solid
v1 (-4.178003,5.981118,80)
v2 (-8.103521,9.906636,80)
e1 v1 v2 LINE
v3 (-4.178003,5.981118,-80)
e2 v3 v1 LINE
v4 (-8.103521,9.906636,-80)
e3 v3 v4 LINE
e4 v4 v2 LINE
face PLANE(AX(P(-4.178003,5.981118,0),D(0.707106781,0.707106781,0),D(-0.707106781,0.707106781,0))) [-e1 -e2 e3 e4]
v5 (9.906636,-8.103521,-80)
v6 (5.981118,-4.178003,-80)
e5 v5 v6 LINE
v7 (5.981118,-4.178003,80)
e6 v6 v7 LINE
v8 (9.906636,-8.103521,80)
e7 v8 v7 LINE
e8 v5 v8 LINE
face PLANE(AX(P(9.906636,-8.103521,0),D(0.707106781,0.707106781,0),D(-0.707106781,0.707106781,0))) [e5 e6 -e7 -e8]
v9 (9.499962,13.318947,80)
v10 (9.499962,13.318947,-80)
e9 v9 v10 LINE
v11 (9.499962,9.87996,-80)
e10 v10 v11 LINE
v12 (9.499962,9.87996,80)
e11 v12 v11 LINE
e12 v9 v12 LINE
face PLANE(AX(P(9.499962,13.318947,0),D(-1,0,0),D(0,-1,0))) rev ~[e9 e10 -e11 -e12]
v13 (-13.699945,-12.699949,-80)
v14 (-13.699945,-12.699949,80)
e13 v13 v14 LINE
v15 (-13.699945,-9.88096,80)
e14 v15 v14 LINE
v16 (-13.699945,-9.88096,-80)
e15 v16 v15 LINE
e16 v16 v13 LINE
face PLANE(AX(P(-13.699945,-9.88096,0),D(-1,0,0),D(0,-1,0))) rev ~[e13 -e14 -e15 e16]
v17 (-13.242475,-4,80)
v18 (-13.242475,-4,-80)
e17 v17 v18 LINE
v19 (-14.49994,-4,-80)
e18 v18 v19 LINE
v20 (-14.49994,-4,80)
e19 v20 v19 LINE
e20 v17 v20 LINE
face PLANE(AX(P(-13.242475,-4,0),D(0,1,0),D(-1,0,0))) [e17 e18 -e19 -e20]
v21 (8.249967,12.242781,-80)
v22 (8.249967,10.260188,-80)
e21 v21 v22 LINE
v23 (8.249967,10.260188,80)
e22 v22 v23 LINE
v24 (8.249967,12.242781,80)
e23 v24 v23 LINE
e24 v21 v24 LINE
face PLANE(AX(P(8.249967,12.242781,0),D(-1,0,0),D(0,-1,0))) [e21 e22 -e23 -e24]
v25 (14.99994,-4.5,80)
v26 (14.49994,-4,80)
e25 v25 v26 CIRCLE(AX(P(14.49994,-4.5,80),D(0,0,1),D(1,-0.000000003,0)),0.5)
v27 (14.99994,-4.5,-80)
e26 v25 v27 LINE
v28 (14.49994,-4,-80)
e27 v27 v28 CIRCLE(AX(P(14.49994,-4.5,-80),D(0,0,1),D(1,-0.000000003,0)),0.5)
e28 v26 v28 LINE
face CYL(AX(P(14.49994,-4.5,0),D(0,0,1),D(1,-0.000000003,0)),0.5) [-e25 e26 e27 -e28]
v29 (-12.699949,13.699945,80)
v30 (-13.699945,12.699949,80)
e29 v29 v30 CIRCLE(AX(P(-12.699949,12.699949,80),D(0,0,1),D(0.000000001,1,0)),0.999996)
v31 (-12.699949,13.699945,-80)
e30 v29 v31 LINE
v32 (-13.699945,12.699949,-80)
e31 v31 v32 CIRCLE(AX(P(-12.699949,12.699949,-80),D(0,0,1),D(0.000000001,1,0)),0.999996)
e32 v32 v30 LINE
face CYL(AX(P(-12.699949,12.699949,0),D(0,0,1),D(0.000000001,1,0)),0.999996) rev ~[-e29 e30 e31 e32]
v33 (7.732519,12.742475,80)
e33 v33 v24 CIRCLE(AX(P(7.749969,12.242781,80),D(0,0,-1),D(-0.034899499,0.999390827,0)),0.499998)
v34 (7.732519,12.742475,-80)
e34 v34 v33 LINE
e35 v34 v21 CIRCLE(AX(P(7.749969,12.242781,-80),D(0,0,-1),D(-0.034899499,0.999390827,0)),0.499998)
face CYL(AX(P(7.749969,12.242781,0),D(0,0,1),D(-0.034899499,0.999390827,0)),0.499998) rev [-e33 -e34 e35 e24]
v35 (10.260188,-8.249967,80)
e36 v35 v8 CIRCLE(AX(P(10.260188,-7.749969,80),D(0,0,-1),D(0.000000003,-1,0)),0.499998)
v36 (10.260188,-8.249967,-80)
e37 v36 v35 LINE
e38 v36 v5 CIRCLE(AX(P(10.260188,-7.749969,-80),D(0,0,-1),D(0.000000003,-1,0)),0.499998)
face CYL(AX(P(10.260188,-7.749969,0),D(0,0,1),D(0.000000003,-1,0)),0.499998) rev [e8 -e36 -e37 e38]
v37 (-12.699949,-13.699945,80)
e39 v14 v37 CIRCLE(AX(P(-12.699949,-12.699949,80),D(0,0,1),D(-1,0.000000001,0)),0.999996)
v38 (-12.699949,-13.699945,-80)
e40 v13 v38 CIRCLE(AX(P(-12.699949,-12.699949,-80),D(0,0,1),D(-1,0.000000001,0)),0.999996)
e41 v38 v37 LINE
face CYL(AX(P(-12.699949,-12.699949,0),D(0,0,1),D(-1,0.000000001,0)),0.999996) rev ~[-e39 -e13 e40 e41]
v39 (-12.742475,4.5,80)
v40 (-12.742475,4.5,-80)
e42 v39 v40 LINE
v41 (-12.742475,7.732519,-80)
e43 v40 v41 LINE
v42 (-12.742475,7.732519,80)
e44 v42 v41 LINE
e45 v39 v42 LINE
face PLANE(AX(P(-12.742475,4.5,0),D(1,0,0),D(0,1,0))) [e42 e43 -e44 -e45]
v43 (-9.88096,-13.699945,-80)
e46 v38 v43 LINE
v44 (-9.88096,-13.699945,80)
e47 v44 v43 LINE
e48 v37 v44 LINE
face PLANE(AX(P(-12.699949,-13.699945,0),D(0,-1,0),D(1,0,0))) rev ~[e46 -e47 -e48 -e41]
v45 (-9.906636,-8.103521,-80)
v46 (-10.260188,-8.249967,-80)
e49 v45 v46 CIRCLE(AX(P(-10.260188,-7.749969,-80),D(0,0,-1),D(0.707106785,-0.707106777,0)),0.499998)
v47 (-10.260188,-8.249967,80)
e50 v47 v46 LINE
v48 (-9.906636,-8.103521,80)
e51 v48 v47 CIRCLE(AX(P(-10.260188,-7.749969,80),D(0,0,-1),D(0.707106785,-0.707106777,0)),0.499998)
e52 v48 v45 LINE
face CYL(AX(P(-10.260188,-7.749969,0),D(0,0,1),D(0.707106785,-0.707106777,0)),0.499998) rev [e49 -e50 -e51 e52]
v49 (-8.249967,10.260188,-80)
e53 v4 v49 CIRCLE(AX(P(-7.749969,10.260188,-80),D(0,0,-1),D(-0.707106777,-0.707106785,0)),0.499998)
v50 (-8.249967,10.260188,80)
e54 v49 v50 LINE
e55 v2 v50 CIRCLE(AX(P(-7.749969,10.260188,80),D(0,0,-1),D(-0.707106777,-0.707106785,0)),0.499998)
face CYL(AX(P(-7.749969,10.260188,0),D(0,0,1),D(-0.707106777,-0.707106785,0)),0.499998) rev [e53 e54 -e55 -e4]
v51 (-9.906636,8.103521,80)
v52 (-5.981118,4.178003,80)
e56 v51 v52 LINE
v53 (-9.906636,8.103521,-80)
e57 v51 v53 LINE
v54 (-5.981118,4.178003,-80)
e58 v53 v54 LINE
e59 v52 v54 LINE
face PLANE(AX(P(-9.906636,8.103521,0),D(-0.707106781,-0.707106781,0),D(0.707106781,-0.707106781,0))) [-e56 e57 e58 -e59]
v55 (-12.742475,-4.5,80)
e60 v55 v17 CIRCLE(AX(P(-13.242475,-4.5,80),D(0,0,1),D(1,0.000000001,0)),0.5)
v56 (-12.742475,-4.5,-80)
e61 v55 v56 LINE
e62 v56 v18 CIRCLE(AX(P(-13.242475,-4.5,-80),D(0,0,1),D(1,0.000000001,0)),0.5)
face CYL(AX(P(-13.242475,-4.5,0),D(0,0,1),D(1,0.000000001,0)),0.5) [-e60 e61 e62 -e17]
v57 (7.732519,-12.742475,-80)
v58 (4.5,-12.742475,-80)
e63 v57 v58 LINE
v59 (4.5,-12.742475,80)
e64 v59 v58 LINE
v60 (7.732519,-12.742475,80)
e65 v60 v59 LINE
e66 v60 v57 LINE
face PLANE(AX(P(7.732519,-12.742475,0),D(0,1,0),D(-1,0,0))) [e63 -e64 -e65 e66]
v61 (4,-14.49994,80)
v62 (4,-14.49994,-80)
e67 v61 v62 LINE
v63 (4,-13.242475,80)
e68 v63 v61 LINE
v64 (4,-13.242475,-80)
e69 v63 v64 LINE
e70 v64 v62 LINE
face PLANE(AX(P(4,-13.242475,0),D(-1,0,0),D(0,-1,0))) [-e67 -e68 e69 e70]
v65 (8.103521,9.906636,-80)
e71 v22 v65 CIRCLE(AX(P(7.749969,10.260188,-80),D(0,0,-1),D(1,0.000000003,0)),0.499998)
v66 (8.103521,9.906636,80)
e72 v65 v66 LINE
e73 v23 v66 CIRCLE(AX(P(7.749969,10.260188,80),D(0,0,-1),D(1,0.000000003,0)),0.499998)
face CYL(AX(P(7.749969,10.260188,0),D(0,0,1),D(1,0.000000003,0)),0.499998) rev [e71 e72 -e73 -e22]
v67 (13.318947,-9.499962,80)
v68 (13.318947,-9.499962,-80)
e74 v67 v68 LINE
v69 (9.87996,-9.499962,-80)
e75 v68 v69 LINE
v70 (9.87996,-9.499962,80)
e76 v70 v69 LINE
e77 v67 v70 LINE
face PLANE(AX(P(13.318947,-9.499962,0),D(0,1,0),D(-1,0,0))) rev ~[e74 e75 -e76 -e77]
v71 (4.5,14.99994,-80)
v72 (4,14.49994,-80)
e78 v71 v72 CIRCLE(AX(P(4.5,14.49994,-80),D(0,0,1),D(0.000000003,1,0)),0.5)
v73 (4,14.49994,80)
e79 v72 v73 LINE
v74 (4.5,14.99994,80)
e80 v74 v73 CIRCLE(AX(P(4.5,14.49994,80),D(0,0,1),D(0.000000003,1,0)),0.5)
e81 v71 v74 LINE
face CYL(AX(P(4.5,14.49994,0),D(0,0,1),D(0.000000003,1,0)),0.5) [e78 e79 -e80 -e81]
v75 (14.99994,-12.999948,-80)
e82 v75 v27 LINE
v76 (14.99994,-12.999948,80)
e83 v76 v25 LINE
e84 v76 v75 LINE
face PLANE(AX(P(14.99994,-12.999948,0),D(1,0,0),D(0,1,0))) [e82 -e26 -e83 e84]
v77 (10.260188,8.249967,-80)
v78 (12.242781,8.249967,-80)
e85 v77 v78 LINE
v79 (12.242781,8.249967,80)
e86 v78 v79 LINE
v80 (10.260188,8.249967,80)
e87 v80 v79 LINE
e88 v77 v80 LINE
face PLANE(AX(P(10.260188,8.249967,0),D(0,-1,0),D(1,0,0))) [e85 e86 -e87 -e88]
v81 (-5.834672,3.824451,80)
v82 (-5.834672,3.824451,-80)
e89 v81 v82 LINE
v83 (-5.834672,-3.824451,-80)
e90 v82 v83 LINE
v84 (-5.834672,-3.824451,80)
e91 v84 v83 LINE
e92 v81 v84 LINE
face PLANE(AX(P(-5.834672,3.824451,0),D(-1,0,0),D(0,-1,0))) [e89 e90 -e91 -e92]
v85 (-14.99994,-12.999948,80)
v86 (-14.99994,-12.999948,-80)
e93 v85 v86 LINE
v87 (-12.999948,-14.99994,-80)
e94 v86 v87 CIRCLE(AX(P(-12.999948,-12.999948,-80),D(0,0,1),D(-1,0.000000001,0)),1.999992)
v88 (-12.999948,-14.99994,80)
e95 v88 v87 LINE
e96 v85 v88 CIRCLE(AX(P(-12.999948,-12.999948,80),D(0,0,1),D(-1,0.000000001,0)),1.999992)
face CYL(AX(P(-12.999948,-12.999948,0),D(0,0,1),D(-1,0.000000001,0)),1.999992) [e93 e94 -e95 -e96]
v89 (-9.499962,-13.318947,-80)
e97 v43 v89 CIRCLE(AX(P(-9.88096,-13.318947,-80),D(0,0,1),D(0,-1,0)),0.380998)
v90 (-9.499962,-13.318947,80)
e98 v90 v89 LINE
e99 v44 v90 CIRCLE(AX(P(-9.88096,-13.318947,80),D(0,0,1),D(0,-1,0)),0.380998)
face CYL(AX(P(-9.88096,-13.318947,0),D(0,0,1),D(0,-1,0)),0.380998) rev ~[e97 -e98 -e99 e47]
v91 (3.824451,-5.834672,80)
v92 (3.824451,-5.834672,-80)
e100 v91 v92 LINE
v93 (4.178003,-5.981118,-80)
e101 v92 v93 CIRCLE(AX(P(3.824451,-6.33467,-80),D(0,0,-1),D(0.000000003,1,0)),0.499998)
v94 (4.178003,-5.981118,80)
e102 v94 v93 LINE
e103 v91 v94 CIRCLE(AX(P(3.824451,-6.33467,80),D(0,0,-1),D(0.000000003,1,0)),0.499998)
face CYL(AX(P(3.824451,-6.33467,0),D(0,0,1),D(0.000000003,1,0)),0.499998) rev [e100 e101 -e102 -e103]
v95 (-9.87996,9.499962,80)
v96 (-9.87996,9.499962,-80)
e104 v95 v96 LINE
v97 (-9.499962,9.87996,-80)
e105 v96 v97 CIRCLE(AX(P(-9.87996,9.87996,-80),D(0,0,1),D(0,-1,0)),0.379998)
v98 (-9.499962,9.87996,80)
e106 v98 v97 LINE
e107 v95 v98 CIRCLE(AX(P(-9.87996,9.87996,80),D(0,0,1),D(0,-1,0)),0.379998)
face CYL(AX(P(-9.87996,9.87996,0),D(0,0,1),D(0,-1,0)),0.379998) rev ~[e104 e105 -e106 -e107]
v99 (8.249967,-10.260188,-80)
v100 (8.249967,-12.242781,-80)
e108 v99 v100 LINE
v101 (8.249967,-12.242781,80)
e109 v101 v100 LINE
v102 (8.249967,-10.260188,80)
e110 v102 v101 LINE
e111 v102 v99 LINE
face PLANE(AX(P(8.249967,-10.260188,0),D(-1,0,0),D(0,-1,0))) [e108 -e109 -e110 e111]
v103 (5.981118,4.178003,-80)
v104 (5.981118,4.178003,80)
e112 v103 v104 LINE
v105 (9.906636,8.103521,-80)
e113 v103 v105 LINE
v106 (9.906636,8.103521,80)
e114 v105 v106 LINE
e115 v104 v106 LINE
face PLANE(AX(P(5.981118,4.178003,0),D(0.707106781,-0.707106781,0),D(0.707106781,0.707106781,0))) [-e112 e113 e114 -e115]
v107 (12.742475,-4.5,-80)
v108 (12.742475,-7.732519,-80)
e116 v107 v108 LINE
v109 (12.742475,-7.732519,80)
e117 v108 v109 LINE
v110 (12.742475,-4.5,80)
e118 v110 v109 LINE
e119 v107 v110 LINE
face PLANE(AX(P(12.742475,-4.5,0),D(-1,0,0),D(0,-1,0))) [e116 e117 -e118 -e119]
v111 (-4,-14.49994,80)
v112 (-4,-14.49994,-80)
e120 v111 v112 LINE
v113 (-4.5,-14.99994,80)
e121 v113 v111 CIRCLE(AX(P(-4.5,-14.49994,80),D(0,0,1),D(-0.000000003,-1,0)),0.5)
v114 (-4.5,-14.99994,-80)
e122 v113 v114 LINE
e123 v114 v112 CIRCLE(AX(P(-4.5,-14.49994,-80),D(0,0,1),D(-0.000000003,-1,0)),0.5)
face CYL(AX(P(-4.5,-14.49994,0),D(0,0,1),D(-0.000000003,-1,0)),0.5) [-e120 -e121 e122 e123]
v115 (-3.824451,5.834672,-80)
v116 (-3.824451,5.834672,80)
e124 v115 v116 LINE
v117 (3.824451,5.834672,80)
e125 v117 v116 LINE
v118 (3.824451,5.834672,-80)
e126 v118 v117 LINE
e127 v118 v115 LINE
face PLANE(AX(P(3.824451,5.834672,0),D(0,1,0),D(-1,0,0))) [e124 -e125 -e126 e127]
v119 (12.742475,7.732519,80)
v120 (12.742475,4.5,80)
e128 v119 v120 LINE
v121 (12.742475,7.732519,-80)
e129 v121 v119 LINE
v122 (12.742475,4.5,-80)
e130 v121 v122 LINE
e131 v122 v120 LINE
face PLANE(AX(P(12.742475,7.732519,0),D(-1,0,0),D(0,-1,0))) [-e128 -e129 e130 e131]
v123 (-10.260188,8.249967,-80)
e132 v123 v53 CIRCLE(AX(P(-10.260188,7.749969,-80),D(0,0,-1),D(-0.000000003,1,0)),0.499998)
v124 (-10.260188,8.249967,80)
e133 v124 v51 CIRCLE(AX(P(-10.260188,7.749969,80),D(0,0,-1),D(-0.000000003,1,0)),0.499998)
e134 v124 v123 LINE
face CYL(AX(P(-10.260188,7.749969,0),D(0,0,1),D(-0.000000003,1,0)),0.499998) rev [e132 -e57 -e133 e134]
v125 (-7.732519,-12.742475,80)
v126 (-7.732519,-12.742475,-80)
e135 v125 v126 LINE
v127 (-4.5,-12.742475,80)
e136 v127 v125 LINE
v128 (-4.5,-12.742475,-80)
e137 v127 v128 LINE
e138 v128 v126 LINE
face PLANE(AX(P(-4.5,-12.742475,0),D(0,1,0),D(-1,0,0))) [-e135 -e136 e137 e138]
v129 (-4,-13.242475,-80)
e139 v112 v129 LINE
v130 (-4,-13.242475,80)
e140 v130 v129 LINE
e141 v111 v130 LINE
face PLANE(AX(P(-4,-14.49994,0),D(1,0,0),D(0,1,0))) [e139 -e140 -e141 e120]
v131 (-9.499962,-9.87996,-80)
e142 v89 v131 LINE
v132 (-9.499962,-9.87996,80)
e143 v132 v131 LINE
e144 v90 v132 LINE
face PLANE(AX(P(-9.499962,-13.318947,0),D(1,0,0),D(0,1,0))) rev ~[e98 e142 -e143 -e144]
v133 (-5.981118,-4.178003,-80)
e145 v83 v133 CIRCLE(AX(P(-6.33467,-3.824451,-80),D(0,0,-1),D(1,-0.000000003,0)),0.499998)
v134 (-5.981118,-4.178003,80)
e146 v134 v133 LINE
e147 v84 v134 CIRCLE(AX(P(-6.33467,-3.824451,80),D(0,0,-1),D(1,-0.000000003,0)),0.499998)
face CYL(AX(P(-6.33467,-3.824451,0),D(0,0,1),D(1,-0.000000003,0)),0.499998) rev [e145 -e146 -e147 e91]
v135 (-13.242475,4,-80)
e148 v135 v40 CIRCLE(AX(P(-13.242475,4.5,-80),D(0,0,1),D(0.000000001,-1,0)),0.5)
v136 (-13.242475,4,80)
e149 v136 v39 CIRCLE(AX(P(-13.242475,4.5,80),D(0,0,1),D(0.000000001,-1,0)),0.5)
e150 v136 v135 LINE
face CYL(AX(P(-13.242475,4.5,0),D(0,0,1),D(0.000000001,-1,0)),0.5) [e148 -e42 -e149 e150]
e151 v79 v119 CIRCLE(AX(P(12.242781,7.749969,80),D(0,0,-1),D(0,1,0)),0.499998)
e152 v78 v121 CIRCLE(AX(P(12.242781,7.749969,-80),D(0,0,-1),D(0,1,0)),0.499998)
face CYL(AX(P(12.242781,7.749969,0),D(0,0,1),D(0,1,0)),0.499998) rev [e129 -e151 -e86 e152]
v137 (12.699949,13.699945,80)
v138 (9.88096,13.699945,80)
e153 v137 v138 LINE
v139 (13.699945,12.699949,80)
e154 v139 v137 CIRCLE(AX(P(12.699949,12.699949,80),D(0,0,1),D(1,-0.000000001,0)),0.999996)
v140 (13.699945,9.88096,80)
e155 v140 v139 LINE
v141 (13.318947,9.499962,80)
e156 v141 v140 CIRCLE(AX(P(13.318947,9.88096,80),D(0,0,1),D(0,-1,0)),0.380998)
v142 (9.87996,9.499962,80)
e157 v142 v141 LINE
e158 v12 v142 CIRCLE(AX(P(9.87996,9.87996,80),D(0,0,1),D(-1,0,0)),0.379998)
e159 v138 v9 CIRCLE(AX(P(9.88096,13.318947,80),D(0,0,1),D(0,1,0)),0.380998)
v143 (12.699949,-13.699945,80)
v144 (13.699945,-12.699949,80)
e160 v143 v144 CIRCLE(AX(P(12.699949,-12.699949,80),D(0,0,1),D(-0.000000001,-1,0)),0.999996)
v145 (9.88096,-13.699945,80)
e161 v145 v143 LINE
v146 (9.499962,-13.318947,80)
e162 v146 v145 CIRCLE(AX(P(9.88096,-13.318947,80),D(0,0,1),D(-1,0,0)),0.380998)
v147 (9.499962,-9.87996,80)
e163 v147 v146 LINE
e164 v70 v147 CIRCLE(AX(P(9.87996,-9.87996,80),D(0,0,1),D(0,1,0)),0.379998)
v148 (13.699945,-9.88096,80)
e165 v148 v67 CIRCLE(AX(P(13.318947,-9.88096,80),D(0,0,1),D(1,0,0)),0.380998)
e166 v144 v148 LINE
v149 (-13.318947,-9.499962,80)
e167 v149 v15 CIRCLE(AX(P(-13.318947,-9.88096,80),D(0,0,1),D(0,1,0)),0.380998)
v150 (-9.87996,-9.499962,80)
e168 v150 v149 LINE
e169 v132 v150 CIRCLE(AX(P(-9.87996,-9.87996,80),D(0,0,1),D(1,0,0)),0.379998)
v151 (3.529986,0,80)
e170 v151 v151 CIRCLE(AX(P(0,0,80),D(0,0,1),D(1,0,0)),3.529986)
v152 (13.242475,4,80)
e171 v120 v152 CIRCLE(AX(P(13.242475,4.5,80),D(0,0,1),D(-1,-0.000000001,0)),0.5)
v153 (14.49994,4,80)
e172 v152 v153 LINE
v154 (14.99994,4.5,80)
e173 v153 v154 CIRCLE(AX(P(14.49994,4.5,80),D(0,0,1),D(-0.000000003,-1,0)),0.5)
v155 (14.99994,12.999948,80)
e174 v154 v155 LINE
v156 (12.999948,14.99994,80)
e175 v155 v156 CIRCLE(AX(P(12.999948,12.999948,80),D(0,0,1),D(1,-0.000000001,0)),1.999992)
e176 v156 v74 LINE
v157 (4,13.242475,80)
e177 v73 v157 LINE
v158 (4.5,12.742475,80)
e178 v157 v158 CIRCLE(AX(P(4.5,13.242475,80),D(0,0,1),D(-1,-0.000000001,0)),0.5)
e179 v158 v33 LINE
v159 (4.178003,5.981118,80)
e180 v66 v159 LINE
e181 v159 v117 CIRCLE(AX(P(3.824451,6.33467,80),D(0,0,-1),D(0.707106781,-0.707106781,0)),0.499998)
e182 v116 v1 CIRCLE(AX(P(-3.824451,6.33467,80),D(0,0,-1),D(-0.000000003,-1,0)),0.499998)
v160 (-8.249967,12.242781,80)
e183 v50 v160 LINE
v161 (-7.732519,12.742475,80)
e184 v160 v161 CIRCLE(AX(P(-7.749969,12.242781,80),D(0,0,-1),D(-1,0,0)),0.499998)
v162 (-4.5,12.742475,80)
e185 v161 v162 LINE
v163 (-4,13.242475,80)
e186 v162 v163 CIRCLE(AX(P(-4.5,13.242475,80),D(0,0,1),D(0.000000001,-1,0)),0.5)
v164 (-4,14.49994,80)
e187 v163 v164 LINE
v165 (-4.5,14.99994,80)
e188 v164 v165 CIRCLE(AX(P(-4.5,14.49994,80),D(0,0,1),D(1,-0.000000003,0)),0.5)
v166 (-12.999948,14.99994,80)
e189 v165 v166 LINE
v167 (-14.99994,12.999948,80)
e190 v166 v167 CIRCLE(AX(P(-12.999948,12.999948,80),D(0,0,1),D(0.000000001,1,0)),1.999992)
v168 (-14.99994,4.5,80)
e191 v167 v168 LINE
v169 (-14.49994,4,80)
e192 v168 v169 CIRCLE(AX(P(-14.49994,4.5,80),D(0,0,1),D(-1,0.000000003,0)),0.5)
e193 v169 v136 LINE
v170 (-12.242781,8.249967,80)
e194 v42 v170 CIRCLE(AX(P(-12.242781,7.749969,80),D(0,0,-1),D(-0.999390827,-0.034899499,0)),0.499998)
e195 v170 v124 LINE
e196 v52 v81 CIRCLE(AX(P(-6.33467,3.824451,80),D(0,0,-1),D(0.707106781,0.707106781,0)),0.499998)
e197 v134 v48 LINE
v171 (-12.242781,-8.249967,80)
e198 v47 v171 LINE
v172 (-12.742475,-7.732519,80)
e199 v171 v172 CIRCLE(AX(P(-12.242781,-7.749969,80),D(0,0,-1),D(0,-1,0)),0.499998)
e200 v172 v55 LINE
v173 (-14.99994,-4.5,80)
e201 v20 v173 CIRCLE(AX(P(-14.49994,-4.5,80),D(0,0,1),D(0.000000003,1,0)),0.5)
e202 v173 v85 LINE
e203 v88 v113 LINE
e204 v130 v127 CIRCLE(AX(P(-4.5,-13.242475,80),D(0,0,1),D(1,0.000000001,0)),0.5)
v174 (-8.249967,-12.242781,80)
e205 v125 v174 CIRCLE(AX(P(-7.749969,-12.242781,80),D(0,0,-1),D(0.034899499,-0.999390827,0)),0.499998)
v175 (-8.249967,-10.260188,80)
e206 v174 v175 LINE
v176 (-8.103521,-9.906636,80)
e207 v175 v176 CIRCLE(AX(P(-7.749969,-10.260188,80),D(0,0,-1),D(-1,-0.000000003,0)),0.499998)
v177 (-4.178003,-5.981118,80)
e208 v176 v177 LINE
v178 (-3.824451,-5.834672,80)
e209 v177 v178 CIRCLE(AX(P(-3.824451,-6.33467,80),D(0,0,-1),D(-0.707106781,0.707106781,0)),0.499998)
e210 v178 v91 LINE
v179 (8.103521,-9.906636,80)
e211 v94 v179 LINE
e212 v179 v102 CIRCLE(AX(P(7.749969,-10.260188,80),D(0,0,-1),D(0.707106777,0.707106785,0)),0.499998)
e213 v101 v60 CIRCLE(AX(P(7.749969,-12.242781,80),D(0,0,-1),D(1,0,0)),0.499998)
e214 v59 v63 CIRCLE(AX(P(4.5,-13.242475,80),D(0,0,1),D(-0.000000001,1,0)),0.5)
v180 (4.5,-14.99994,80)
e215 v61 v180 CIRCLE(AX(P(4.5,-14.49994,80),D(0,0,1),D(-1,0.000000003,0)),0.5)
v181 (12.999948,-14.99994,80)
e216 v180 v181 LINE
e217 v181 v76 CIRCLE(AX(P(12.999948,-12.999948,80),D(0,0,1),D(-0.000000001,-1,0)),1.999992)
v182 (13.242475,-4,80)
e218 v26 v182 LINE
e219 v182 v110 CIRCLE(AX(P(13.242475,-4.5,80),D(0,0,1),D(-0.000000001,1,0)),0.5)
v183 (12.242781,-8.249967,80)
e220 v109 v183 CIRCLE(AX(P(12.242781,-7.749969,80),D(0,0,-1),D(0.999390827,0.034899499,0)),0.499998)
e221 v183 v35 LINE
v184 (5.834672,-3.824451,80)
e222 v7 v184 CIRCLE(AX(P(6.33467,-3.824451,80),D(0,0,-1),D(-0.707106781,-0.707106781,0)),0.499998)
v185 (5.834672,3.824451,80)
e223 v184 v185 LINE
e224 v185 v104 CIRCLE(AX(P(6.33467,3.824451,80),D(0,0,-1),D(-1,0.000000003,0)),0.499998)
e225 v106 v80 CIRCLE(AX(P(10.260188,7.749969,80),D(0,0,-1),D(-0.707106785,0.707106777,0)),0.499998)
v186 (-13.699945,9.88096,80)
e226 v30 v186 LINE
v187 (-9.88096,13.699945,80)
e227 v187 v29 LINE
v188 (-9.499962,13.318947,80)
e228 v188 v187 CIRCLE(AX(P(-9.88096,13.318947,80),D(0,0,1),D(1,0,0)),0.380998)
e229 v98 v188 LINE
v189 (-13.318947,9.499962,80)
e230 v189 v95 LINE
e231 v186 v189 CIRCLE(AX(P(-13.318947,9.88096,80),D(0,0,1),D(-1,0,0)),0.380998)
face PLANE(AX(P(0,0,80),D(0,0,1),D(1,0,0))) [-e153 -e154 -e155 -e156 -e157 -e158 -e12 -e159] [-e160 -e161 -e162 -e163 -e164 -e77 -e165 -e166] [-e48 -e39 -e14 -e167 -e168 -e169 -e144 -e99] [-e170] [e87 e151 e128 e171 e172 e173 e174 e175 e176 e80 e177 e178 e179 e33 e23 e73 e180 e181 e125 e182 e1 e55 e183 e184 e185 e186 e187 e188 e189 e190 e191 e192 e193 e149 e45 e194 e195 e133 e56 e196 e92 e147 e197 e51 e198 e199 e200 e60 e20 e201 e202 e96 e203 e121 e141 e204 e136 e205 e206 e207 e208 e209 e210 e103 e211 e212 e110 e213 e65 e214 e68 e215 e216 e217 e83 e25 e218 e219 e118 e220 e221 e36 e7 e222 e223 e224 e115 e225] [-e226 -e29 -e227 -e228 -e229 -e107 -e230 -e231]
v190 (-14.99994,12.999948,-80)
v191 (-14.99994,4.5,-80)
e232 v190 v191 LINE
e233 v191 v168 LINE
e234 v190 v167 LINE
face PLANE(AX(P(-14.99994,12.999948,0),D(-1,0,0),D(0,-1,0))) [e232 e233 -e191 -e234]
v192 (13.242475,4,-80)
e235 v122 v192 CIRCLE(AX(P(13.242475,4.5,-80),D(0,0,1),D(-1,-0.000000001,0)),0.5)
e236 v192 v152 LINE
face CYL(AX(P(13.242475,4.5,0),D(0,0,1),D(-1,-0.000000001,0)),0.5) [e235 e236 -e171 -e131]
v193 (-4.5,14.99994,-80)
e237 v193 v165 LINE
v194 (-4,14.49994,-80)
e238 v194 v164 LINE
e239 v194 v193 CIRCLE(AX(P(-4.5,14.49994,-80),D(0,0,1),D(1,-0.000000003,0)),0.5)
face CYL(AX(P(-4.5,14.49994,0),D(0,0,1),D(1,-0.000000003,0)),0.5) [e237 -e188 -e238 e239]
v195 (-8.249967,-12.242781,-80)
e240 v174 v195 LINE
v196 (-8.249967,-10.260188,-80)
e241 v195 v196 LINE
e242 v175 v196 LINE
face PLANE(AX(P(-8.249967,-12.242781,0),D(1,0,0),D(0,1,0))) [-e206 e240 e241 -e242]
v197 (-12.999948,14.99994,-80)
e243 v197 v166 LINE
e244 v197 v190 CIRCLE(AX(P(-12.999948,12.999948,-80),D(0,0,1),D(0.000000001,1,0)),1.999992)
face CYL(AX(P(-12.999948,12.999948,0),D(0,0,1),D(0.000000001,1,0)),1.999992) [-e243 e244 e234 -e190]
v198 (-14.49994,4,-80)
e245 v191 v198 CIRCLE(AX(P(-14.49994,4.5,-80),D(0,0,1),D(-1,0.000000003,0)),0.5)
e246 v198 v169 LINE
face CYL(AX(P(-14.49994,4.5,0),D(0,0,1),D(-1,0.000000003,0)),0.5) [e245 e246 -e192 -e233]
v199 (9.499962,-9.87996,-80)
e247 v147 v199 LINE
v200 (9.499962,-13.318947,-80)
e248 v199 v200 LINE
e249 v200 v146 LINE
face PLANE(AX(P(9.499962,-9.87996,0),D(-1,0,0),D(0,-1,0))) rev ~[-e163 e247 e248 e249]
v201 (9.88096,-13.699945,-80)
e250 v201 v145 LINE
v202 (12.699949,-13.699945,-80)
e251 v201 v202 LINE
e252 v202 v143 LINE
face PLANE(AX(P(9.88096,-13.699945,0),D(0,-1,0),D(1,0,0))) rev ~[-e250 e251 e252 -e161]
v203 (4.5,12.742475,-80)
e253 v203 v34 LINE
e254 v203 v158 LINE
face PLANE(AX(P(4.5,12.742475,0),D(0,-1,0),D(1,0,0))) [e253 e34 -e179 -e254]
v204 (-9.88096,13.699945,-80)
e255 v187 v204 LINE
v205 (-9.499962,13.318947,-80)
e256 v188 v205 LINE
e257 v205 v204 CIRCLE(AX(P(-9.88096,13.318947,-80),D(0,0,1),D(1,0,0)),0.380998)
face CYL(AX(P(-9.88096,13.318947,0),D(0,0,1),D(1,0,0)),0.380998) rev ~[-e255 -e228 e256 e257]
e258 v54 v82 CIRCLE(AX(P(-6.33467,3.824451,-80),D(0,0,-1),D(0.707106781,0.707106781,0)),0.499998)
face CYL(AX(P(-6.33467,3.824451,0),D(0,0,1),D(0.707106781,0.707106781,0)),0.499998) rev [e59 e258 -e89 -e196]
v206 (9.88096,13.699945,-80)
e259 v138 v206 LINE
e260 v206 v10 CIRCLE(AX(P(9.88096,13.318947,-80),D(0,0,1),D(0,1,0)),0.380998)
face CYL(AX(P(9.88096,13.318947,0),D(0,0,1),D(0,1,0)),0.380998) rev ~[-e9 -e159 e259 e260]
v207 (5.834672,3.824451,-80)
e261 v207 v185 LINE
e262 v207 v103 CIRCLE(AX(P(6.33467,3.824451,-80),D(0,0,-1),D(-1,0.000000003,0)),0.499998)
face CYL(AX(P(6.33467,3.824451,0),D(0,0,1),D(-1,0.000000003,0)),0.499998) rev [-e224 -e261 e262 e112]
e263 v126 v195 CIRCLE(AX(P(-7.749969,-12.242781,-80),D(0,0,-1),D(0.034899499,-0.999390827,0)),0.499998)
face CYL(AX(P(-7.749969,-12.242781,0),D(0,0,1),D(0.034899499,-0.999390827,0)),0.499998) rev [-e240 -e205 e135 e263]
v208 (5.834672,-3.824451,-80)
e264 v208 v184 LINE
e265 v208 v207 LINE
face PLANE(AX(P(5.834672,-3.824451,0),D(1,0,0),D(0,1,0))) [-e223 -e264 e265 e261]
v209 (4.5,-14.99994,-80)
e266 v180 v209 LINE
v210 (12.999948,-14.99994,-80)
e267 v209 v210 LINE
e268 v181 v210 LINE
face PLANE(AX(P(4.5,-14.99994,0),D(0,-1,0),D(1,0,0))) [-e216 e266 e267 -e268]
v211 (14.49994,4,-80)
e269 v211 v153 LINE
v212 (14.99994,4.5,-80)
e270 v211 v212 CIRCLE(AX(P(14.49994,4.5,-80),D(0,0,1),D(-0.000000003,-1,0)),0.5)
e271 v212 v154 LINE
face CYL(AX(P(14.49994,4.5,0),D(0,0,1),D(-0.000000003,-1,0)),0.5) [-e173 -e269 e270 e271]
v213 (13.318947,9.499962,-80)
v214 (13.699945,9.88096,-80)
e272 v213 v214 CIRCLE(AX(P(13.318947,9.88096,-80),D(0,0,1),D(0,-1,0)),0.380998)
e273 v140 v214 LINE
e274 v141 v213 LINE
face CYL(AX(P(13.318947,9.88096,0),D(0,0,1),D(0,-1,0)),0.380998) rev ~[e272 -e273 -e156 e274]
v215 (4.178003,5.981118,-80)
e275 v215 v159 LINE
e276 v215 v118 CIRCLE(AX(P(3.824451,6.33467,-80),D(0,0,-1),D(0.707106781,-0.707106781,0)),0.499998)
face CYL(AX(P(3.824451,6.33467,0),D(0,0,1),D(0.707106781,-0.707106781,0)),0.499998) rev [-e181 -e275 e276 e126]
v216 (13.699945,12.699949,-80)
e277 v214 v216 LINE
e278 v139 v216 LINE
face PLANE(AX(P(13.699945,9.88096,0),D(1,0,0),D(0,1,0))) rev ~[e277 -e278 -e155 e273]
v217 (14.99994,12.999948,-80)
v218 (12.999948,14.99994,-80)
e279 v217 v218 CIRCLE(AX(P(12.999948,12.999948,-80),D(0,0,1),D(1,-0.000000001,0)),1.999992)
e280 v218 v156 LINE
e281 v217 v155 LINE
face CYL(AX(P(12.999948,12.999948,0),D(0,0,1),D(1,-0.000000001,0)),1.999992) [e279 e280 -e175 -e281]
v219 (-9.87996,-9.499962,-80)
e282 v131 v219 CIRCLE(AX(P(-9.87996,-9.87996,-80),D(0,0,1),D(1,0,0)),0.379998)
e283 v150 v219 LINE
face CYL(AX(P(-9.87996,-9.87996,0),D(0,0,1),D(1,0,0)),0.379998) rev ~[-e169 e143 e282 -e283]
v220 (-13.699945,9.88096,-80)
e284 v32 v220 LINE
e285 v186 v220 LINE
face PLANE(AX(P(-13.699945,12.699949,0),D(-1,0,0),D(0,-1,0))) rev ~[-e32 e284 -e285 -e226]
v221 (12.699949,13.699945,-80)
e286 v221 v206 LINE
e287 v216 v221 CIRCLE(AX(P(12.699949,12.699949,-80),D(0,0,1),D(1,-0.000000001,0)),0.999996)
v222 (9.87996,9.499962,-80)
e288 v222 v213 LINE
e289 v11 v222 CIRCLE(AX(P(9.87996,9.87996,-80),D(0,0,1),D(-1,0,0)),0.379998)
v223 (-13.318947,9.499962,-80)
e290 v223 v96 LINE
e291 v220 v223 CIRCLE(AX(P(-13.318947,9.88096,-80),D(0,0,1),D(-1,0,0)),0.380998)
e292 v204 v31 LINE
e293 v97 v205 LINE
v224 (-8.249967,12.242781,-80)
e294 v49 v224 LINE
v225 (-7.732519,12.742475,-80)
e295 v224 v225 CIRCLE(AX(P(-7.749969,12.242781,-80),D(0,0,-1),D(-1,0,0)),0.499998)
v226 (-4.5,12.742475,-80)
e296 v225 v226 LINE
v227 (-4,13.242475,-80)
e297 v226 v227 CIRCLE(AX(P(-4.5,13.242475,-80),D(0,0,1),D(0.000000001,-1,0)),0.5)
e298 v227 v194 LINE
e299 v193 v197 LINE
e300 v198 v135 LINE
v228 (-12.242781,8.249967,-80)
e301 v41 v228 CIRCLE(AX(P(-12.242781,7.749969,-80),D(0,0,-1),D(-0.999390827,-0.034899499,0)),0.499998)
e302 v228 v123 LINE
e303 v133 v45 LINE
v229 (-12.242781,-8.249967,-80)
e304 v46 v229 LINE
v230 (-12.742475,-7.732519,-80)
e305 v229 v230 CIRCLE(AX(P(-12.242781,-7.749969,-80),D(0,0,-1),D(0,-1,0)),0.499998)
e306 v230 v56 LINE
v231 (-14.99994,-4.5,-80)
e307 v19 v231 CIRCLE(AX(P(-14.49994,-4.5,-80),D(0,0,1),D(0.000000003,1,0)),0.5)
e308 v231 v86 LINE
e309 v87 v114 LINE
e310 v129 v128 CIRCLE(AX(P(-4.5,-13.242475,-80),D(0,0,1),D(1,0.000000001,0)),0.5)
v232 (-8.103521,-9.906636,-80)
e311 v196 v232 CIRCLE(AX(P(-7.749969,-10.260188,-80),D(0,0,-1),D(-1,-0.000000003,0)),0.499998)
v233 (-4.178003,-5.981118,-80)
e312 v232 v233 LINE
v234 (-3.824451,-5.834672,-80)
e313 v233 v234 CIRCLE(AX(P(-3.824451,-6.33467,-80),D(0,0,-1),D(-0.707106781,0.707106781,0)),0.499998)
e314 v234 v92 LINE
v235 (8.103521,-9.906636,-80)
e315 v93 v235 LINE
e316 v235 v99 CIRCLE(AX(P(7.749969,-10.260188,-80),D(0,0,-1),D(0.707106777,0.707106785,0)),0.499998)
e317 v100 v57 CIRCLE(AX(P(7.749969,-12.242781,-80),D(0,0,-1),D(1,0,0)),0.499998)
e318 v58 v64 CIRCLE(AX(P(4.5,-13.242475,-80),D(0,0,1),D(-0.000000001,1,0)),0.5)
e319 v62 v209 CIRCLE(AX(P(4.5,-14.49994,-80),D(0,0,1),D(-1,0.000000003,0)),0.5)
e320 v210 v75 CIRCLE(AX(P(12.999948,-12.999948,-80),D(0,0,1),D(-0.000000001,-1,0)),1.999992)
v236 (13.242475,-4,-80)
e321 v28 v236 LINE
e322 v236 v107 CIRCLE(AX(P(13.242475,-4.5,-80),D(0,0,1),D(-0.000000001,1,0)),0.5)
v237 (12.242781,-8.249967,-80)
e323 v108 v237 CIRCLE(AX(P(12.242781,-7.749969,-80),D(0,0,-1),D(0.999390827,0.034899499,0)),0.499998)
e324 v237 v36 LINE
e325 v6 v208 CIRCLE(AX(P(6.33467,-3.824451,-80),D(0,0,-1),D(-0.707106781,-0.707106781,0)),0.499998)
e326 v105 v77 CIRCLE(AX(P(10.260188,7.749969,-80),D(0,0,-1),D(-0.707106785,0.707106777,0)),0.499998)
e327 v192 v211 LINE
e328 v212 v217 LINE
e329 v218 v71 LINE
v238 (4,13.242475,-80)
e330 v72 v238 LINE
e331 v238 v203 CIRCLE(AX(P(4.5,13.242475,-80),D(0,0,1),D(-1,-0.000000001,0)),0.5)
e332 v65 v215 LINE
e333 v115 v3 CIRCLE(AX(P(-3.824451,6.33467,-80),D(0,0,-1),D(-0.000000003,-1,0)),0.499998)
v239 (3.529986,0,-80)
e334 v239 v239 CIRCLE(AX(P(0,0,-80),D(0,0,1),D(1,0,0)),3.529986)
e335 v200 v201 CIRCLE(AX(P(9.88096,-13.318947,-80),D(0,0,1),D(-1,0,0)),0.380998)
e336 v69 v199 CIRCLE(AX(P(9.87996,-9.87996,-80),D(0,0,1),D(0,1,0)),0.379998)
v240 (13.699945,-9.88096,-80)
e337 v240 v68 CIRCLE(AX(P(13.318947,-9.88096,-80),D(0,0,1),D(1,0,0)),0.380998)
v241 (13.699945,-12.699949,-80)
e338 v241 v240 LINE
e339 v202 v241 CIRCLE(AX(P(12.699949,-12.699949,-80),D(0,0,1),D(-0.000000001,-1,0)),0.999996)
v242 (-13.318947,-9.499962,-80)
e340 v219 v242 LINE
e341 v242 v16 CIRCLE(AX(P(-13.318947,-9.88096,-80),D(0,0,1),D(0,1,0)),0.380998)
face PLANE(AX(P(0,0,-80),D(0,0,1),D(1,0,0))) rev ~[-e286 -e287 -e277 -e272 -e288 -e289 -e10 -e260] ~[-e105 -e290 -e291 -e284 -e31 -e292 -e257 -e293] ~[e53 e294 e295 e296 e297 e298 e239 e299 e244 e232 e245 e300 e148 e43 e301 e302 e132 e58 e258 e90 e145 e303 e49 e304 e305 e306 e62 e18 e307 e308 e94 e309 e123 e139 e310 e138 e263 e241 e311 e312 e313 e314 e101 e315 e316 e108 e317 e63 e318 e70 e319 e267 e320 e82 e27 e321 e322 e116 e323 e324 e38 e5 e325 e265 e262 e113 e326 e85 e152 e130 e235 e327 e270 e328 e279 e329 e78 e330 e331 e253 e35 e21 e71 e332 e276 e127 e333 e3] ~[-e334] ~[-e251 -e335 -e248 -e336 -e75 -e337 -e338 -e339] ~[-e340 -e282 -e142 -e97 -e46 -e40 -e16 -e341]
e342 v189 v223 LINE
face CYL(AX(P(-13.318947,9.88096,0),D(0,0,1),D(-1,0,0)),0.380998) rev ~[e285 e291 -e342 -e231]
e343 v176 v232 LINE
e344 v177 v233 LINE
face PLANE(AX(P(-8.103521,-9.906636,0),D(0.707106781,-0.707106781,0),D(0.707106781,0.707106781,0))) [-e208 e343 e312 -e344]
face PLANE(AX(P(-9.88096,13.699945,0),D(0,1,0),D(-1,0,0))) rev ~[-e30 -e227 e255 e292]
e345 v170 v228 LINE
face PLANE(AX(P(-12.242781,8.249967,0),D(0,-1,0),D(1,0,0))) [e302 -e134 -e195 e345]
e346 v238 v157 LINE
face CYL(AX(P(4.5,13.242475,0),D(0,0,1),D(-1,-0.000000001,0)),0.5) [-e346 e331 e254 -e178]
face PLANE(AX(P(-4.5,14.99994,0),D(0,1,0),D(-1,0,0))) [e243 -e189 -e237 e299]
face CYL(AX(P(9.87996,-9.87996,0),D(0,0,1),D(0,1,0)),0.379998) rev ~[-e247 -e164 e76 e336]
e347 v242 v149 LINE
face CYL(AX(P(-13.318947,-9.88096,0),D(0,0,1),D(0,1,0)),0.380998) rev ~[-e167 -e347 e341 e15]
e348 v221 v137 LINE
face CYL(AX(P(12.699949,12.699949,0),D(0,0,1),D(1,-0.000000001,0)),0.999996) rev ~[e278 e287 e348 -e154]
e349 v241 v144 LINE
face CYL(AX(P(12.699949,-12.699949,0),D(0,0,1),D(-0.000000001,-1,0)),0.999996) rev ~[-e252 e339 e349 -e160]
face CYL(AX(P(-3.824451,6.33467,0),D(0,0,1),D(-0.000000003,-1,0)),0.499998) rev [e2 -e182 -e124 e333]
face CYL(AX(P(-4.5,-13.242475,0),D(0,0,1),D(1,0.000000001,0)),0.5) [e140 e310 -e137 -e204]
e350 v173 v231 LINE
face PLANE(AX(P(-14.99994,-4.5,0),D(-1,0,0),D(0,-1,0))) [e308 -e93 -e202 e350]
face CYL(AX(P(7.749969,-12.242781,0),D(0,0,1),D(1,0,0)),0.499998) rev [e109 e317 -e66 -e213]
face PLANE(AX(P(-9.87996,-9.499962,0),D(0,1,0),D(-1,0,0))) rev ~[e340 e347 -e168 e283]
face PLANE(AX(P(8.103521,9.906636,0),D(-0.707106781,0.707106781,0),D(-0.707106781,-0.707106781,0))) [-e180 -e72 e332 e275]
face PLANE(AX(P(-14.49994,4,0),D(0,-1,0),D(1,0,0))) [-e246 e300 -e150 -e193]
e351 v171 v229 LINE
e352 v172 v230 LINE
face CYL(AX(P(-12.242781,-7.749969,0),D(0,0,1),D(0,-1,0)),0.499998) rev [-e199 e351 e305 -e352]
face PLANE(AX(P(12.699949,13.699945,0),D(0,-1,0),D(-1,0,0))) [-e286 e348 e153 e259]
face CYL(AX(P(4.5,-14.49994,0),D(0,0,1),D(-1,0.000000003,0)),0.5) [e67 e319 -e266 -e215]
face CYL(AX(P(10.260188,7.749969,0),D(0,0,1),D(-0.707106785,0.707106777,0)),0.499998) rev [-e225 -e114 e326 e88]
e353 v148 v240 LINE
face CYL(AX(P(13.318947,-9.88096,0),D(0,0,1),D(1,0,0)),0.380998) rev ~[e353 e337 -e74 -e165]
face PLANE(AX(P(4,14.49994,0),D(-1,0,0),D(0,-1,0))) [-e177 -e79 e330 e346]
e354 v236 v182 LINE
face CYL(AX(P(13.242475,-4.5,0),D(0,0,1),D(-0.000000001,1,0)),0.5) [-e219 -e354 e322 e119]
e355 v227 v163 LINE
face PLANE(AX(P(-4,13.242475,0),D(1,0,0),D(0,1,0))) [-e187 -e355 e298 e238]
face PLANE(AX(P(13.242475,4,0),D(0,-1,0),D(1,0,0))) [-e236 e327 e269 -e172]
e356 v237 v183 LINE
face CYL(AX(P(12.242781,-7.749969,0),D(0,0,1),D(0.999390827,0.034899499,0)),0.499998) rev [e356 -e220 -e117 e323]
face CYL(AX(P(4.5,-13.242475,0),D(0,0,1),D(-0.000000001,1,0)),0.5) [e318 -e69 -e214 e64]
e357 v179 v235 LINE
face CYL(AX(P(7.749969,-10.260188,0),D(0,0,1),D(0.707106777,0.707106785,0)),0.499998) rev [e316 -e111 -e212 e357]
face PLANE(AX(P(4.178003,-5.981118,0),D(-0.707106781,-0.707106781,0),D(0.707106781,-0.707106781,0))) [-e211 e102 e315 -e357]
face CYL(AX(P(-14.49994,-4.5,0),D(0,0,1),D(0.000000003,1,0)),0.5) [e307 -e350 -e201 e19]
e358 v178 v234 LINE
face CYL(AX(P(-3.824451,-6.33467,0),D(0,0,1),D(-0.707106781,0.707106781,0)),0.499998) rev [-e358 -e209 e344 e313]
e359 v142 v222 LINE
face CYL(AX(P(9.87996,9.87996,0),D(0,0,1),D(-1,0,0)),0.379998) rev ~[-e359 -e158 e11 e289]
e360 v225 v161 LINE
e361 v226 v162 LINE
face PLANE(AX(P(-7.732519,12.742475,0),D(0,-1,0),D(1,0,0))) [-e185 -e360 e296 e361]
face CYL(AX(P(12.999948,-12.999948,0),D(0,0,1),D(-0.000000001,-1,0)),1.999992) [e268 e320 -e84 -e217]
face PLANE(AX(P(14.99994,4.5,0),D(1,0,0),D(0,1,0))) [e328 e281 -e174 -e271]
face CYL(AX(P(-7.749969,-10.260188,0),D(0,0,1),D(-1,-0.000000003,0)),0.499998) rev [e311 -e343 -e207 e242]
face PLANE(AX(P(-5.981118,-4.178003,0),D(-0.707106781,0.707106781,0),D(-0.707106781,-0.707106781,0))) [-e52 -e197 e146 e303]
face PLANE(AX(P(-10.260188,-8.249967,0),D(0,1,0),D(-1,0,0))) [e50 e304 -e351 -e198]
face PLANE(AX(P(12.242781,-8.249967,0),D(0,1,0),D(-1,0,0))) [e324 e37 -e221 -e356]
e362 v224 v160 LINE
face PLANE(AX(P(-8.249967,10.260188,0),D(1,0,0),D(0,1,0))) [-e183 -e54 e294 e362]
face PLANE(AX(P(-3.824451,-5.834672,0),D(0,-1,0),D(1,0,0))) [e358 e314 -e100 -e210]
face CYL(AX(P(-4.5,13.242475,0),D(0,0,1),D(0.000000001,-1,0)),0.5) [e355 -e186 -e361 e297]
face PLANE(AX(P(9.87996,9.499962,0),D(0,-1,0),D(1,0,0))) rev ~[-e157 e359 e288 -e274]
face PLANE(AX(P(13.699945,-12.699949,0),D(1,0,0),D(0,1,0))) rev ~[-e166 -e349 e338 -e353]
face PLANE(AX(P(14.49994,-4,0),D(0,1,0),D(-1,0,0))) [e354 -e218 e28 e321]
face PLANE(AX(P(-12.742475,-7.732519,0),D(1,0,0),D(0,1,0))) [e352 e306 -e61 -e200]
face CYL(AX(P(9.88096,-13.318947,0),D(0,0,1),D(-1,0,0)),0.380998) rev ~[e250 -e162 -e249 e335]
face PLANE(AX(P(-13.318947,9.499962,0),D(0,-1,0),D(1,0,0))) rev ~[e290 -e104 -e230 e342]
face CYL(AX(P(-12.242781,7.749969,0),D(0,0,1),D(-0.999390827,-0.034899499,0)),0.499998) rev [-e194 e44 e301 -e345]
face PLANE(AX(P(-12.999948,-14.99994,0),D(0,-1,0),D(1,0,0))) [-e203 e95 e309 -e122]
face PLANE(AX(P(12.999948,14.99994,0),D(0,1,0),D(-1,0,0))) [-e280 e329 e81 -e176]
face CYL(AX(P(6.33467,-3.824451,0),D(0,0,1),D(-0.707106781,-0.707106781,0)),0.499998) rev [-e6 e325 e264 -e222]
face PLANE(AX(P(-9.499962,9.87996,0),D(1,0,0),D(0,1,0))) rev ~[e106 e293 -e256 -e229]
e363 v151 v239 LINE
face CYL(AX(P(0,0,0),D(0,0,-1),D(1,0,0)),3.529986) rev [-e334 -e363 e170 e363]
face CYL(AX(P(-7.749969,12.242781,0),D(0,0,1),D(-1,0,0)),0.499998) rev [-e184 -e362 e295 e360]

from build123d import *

# Parameters (mm, degrees)
SKETCH1_R           = 3.52998588
BOSS_EXTRUDE1_DEPTH = 80


with BuildPart() as part:
    # Sketch1 → Boss-Extrude1 (new, symmetric)
    with BuildSketch(Plane.XY):
        with BuildLine():
            Line((14.49994, -4), (13.24247465, -4))
            ThreePointArc((13.24247465, -4), (12.88892126, -4.146446609), (12.74247465, -4.5))
            Line((12.74247465, -4.5), (12.74247465, -7.732519321))
            ThreePointArc((12.74247465, -7.732519321), (12.602449697, -8.097296796), (12.242781236, -8.249967))
            Line((12.242781236, -8.249967), (10.260188032, -8.249967))
            ThreePointArc((10.260188032, -8.249967), (10.068847082, -8.211906919), (9.906636056, -8.103520976))
            Line((9.906636056, -8.103520976), (5.981117769, -4.178002689))
            ThreePointArc((5.981117769, -4.178002689), (5.872731827, -4.015791664), (5.834671745, -3.824450713))
            Line((5.834671745, -3.824450713), (5.834671745, -1.01249595))
            Line((5.834671745, -1.01249595), (5.834671745, 0.88749645))
            Line((5.834671745, 0.88749645), (5.834671745, 3.824450713))
            ThreePointArc((5.834671745, 3.824450713), (5.872731827, 4.015791664), (5.981117769, 4.178002689))
            Line((5.981117769, 4.178002689), (9.906636056, 8.103520976))
            ThreePointArc((9.906636056, 8.103520976), (10.068847082, 8.211906919), (10.260188032, 8.249967))
            Line((10.260188032, 8.249967), (12.242781236, 8.249967))
            ThreePointArc((12.242781236, 8.249967), (12.602449697, 8.097296796), (12.74247465, 7.732519321))
            Line((12.74247465, 7.732519321), (12.74247465, 4.5))
            ThreePointArc((12.74247465, 4.5), (12.88892126, 4.146446609), (13.24247465, 4))
            Line((13.24247465, 4), (14.49994, 4))
            ThreePointArc((14.49994, 4), (14.853493391, 4.146446609), (14.99994, 4.5))
            Line((14.99994, 4.5), (14.99994, 12.999948))
            ThreePointArc((14.99994, 12.999948), (14.414155906, 14.414155906), (12.999948, 14.99994))
            Line((12.999948, 14.99994), (4.5, 14.99994))
            ThreePointArc((4.5, 14.99994), (4.146446609, 14.853493391), (4, 14.49994))
            Line((4, 14.49994), (4, 13.24247465))
            ThreePointArc((4, 13.24247465), (4.146446609, 12.88892126), (4.5, 12.74247465))
            Line((4.5, 12.74247465), (7.732519321, 12.74247465))
            ThreePointArc((7.732519321, 12.74247465), (8.097296796, 12.602449697), (8.249967, 12.242781236))
            Line((8.249967, 12.242781236), (8.249967, 10.260188032))
            ThreePointArc((8.249967, 10.260188032), (8.211906919, 10.068847082), (8.103520976, 9.906636056))
            Line((8.103520976, 9.906636056), (4.178002689, 5.981117769))
            ThreePointArc((4.178002689, 5.981117769), (4.015791664, 5.872731827), (3.824450713, 5.834671745))
            Line((3.824450713, 5.834671745), (0.9499962, 5.834671745))
            Line((0.9499962, 5.834671745), (-0.9499962, 5.834671745))
            Line((-0.9499962, 5.834671745), (-3.824450713, 5.834671745))
            ThreePointArc((-3.824450713, 5.834671745), (-4.015791664, 5.872731827), (-4.178002689, 5.981117769))
            Line((-4.178002689, 5.981117769), (-8.103520976, 9.906636056))
            ThreePointArc((-8.103520976, 9.906636056), (-8.211906919, 10.068847082), (-8.249967, 10.260188032))
            Line((-8.249967, 10.260188032), (-8.249967, 12.242781236))
            ThreePointArc((-8.249967, 12.242781236), (-8.097296796, 12.602449697), (-7.732519321, 12.74247465))
            Line((-7.732519321, 12.74247465), (-4.5, 12.74247465))
            ThreePointArc((-4.5, 12.74247465), (-4.146446609, 12.88892126), (-4, 13.24247465))
            Line((-4, 13.24247465), (-4, 14.49994))
            ThreePointArc((-4, 14.49994), (-4.146446609, 14.853493391), (-4.5, 14.99994))
            Line((-4.5, 14.99994), (-12.999948, 14.99994))
            ThreePointArc((-12.999948, 14.99994), (-14.414155906, 14.414155906), (-14.99994, 12.999948))
            Line((-14.99994, 12.999948), (-14.99994, 4.5))
            ThreePointArc((-14.99994, 4.5), (-14.853493391, 4.146446609), (-14.49994, 4))
            Line((-14.49994, 4), (-13.24247465, 4))
            ThreePointArc((-13.24247465, 4), (-12.88892126, 4.146446609), (-12.74247465, 4.5))
            Line((-12.74247465, 4.5), (-12.74247465, 7.732519321))
            ThreePointArc((-12.74247465, 7.732519321), (-12.602449697, 8.097296796), (-12.242781236, 8.249967))
            Line((-12.242781236, 8.249967), (-10.260188032, 8.249967))
            ThreePointArc((-10.260188032, 8.249967), (-10.068847082, 8.211906919), (-9.906636056, 8.103520976))
            Line((-9.906636056, 8.103520976), (-5.981117769, 4.178002689))
            ThreePointArc((-5.981117769, 4.178002689), (-5.872731827, 4.015791664), (-5.834671745, 3.824450713))
            Line((-5.834671745, 3.824450713), (-5.834671745, 0.88749645))
            Line((-5.834671745, 0.88749645), (-5.834671745, -1.01249595))
            Line((-5.834671745, -1.01249595), (-5.834671745, -3.824450713))
            ThreePointArc((-5.834671745, -3.824450713), (-5.872731827, -4.015791664), (-5.981117769, -4.178002689))
            Line((-5.981117769, -4.178002689), (-9.906636056, -8.103520976))
            ThreePointArc((-9.906636056, -8.103520976), (-10.068847082, -8.211906919), (-10.260188032, -8.249967))
            Line((-10.260188032, -8.249967), (-12.242781236, -8.249967))
            ThreePointArc((-12.242781236, -8.249967), (-12.602449697, -8.097296796), (-12.74247465, -7.732519321))
            Line((-12.74247465, -7.732519321), (-12.74247465, -4.5))
            ThreePointArc((-12.74247465, -4.5), (-12.88892126, -4.146446609), (-13.24247465, -4))
            Line((-13.24247465, -4), (-14.49994, -4))
            ThreePointArc((-14.49994, -4), (-14.853493391, -4.146446609), (-14.99994, -4.5))
            Line((-14.99994, -4.5), (-14.99994, -12.999948))
            ThreePointArc((-14.99994, -12.999948), (-14.414155906, -14.414155906), (-12.999948, -14.99994))
            Line((-12.999948, -14.99994), (-4.5, -14.99994))
            ThreePointArc((-4.5, -14.99994), (-4.146446609, -14.853493391), (-4, -14.49994))
            Line((-4, -14.49994), (-4, -13.24247465))
            ThreePointArc((-4, -13.24247465), (-4.146446609, -12.88892126), (-4.5, -12.74247465))
            Line((-4.5, -12.74247465), (-7.732519321, -12.74247465))
            ThreePointArc((-7.732519321, -12.74247465), (-8.097296796, -12.602449697), (-8.249967, -12.242781236))
            Line((-8.249967, -12.242781236), (-8.249967, -10.260188032))
            ThreePointArc((-8.249967, -10.260188032), (-8.211906919, -10.068847082), (-8.103520976, -9.906636056))
            Line((-8.103520976, -9.906636056), (-4.178002689, -5.981117769))
            ThreePointArc((-4.178002689, -5.981117769), (-4.015791664, -5.872731827), (-3.824450713, -5.834671745))
            Line((-3.824450713, -5.834671745), (-0.9499962, -5.834671745))
            Line((-0.9499962, -5.834671745), (0.9499962, -5.834671745))
            Line((0.9499962, -5.834671745), (3.824450713, -5.834671745))
            ThreePointArc((3.824450713, -5.834671745), (4.015791664, -5.872731827), (4.178002689, -5.981117769))
            Line((4.178002689, -5.981117769), (8.103520976, -9.906636056))
            ThreePointArc((8.103520976, -9.906636056), (8.211906919, -10.068847082), (8.249967, -10.260188032))
            Line((8.249967, -10.260188032), (8.249967, -12.242781236))
            ThreePointArc((8.249967, -12.242781236), (8.097296796, -12.602449697), (7.732519321, -12.74247465))
            Line((7.732519321, -12.74247465), (4.5, -12.74247465))
            ThreePointArc((4.5, -12.74247465), (4.146446609, -12.88892126), (4, -13.24247465))
            Line((4, -13.24247465), (4, -14.49994))
            ThreePointArc((4, -14.49994), (4.146446609, -14.853493391), (4.5, -14.99994))
            Line((4.5, -14.99994), (12.999948, -14.99994))
            ThreePointArc((12.999948, -14.99994), (14.414155906, -14.414155906), (14.99994, -12.999948))
            Line((14.99994, -12.999948), (14.99994, -4.5))
            ThreePointArc((14.99994, -4.5), (14.853493391, -4.146446609), (14.49994, -4))
        make_face()
        Circle(SKETCH1_R, mode=Mode.SUBTRACT)
        with BuildLine():
            Line((-12.6999492, -13.6999452), (-9.880960476, -13.6999452))
            ThreePointArc((-9.880960476, -13.6999452), (-9.61155387, -13.58835333), (-9.499962, -13.318946724))
            Line((-9.499962, -13.318946724), (-9.499962, -9.87996048))
            ThreePointArc((-9.499962, -9.87996048), (-9.611260978, -9.611260978), (-9.87996048, -9.499962))
            Line((-9.87996048, -9.499962), (-13.318946724, -9.499962))
            ThreePointArc((-13.318946724, -9.499962), (-13.58835333, -9.61155387), (-13.6999452, -9.880960476))
            Line((-13.6999452, -9.880960476), (-13.6999452, -12.6999492))
            ThreePointArc((-13.6999452, -12.6999492), (-13.407053153, -13.407053153), (-12.6999492, -13.6999452))
        make_face(mode=Mode.SUBTRACT)
        with BuildLine():
            Line((13.6999452, -12.6999492), (13.6999452, -9.880960476))
            ThreePointArc((13.6999452, -9.880960476), (13.58835333, -9.61155387), (13.318946724, -9.499962))
            Line((13.318946724, -9.499962), (9.87996048, -9.499962))
            ThreePointArc((9.87996048, -9.499962), (9.611260978, -9.611260978), (9.499962, -9.87996048))
            Line((9.499962, -9.87996048), (9.499962, -13.318946724))
            ThreePointArc((9.499962, -13.318946724), (9.61155387, -13.58835333), (9.880960476, -13.6999452))
            Line((9.880960476, -13.6999452), (12.6999492, -13.6999452))
            ThreePointArc((12.6999492, -13.6999452), (13.407053153, -13.407053153), (13.6999452, -12.6999492))
        make_face(mode=Mode.SUBTRACT)
        with BuildLine():
            Line((9.87996048, 9.499962), (13.318946724, 9.499962))
            ThreePointArc((13.318946724, 9.499962), (13.58835333, 9.61155387), (13.6999452, 9.880960476))
            Line((13.6999452, 9.880960476), (13.6999452, 12.6999492))
            ThreePointArc((13.6999452, 12.6999492), (13.407053153, 13.407053153), (12.6999492, 13.6999452))
            Line((12.6999492, 13.6999452), (9.880960476, 13.6999452))
            ThreePointArc((9.880960476, 13.6999452), (9.61155387, 13.58835333), (9.499962, 13.318946724))
            Line((9.499962, 13.318946724), (9.499962, 9.87996048))
            ThreePointArc((9.499962, 9.87996048), (9.611260978, 9.611260978), (9.87996048, 9.499962))
        make_face(mode=Mode.SUBTRACT)
        with BuildLine():
            Line((-13.6999452, 12.6999492), (-13.6999452, 9.880960476))
            ThreePointArc((-13.6999452, 9.880960476), (-13.58835333, 9.61155387), (-13.318946724, 9.499962))
            Line((-13.318946724, 9.499962), (-9.87996048, 9.499962))
            ThreePointArc((-9.87996048, 9.499962), (-9.611260978, 9.611260978), (-9.499962, 9.87996048))
            Line((-9.499962, 9.87996048), (-9.499962, 13.318946724))
            ThreePointArc((-9.499962, 13.318946724), (-9.61155387, 13.58835333), (-9.880960476, 13.6999452))
            Line((-9.880960476, 13.6999452), (-12.6999492, 13.6999452))
            ThreePointArc((-12.6999492, 13.6999452), (-13.407053153, 13.407053153), (-13.6999452, 12.6999492))
        make_face(mode=Mode.SUBTRACT)
    extrude(amount=BOSS_EXTRUDE1_DEPTH, both=True)


solid = part.part
